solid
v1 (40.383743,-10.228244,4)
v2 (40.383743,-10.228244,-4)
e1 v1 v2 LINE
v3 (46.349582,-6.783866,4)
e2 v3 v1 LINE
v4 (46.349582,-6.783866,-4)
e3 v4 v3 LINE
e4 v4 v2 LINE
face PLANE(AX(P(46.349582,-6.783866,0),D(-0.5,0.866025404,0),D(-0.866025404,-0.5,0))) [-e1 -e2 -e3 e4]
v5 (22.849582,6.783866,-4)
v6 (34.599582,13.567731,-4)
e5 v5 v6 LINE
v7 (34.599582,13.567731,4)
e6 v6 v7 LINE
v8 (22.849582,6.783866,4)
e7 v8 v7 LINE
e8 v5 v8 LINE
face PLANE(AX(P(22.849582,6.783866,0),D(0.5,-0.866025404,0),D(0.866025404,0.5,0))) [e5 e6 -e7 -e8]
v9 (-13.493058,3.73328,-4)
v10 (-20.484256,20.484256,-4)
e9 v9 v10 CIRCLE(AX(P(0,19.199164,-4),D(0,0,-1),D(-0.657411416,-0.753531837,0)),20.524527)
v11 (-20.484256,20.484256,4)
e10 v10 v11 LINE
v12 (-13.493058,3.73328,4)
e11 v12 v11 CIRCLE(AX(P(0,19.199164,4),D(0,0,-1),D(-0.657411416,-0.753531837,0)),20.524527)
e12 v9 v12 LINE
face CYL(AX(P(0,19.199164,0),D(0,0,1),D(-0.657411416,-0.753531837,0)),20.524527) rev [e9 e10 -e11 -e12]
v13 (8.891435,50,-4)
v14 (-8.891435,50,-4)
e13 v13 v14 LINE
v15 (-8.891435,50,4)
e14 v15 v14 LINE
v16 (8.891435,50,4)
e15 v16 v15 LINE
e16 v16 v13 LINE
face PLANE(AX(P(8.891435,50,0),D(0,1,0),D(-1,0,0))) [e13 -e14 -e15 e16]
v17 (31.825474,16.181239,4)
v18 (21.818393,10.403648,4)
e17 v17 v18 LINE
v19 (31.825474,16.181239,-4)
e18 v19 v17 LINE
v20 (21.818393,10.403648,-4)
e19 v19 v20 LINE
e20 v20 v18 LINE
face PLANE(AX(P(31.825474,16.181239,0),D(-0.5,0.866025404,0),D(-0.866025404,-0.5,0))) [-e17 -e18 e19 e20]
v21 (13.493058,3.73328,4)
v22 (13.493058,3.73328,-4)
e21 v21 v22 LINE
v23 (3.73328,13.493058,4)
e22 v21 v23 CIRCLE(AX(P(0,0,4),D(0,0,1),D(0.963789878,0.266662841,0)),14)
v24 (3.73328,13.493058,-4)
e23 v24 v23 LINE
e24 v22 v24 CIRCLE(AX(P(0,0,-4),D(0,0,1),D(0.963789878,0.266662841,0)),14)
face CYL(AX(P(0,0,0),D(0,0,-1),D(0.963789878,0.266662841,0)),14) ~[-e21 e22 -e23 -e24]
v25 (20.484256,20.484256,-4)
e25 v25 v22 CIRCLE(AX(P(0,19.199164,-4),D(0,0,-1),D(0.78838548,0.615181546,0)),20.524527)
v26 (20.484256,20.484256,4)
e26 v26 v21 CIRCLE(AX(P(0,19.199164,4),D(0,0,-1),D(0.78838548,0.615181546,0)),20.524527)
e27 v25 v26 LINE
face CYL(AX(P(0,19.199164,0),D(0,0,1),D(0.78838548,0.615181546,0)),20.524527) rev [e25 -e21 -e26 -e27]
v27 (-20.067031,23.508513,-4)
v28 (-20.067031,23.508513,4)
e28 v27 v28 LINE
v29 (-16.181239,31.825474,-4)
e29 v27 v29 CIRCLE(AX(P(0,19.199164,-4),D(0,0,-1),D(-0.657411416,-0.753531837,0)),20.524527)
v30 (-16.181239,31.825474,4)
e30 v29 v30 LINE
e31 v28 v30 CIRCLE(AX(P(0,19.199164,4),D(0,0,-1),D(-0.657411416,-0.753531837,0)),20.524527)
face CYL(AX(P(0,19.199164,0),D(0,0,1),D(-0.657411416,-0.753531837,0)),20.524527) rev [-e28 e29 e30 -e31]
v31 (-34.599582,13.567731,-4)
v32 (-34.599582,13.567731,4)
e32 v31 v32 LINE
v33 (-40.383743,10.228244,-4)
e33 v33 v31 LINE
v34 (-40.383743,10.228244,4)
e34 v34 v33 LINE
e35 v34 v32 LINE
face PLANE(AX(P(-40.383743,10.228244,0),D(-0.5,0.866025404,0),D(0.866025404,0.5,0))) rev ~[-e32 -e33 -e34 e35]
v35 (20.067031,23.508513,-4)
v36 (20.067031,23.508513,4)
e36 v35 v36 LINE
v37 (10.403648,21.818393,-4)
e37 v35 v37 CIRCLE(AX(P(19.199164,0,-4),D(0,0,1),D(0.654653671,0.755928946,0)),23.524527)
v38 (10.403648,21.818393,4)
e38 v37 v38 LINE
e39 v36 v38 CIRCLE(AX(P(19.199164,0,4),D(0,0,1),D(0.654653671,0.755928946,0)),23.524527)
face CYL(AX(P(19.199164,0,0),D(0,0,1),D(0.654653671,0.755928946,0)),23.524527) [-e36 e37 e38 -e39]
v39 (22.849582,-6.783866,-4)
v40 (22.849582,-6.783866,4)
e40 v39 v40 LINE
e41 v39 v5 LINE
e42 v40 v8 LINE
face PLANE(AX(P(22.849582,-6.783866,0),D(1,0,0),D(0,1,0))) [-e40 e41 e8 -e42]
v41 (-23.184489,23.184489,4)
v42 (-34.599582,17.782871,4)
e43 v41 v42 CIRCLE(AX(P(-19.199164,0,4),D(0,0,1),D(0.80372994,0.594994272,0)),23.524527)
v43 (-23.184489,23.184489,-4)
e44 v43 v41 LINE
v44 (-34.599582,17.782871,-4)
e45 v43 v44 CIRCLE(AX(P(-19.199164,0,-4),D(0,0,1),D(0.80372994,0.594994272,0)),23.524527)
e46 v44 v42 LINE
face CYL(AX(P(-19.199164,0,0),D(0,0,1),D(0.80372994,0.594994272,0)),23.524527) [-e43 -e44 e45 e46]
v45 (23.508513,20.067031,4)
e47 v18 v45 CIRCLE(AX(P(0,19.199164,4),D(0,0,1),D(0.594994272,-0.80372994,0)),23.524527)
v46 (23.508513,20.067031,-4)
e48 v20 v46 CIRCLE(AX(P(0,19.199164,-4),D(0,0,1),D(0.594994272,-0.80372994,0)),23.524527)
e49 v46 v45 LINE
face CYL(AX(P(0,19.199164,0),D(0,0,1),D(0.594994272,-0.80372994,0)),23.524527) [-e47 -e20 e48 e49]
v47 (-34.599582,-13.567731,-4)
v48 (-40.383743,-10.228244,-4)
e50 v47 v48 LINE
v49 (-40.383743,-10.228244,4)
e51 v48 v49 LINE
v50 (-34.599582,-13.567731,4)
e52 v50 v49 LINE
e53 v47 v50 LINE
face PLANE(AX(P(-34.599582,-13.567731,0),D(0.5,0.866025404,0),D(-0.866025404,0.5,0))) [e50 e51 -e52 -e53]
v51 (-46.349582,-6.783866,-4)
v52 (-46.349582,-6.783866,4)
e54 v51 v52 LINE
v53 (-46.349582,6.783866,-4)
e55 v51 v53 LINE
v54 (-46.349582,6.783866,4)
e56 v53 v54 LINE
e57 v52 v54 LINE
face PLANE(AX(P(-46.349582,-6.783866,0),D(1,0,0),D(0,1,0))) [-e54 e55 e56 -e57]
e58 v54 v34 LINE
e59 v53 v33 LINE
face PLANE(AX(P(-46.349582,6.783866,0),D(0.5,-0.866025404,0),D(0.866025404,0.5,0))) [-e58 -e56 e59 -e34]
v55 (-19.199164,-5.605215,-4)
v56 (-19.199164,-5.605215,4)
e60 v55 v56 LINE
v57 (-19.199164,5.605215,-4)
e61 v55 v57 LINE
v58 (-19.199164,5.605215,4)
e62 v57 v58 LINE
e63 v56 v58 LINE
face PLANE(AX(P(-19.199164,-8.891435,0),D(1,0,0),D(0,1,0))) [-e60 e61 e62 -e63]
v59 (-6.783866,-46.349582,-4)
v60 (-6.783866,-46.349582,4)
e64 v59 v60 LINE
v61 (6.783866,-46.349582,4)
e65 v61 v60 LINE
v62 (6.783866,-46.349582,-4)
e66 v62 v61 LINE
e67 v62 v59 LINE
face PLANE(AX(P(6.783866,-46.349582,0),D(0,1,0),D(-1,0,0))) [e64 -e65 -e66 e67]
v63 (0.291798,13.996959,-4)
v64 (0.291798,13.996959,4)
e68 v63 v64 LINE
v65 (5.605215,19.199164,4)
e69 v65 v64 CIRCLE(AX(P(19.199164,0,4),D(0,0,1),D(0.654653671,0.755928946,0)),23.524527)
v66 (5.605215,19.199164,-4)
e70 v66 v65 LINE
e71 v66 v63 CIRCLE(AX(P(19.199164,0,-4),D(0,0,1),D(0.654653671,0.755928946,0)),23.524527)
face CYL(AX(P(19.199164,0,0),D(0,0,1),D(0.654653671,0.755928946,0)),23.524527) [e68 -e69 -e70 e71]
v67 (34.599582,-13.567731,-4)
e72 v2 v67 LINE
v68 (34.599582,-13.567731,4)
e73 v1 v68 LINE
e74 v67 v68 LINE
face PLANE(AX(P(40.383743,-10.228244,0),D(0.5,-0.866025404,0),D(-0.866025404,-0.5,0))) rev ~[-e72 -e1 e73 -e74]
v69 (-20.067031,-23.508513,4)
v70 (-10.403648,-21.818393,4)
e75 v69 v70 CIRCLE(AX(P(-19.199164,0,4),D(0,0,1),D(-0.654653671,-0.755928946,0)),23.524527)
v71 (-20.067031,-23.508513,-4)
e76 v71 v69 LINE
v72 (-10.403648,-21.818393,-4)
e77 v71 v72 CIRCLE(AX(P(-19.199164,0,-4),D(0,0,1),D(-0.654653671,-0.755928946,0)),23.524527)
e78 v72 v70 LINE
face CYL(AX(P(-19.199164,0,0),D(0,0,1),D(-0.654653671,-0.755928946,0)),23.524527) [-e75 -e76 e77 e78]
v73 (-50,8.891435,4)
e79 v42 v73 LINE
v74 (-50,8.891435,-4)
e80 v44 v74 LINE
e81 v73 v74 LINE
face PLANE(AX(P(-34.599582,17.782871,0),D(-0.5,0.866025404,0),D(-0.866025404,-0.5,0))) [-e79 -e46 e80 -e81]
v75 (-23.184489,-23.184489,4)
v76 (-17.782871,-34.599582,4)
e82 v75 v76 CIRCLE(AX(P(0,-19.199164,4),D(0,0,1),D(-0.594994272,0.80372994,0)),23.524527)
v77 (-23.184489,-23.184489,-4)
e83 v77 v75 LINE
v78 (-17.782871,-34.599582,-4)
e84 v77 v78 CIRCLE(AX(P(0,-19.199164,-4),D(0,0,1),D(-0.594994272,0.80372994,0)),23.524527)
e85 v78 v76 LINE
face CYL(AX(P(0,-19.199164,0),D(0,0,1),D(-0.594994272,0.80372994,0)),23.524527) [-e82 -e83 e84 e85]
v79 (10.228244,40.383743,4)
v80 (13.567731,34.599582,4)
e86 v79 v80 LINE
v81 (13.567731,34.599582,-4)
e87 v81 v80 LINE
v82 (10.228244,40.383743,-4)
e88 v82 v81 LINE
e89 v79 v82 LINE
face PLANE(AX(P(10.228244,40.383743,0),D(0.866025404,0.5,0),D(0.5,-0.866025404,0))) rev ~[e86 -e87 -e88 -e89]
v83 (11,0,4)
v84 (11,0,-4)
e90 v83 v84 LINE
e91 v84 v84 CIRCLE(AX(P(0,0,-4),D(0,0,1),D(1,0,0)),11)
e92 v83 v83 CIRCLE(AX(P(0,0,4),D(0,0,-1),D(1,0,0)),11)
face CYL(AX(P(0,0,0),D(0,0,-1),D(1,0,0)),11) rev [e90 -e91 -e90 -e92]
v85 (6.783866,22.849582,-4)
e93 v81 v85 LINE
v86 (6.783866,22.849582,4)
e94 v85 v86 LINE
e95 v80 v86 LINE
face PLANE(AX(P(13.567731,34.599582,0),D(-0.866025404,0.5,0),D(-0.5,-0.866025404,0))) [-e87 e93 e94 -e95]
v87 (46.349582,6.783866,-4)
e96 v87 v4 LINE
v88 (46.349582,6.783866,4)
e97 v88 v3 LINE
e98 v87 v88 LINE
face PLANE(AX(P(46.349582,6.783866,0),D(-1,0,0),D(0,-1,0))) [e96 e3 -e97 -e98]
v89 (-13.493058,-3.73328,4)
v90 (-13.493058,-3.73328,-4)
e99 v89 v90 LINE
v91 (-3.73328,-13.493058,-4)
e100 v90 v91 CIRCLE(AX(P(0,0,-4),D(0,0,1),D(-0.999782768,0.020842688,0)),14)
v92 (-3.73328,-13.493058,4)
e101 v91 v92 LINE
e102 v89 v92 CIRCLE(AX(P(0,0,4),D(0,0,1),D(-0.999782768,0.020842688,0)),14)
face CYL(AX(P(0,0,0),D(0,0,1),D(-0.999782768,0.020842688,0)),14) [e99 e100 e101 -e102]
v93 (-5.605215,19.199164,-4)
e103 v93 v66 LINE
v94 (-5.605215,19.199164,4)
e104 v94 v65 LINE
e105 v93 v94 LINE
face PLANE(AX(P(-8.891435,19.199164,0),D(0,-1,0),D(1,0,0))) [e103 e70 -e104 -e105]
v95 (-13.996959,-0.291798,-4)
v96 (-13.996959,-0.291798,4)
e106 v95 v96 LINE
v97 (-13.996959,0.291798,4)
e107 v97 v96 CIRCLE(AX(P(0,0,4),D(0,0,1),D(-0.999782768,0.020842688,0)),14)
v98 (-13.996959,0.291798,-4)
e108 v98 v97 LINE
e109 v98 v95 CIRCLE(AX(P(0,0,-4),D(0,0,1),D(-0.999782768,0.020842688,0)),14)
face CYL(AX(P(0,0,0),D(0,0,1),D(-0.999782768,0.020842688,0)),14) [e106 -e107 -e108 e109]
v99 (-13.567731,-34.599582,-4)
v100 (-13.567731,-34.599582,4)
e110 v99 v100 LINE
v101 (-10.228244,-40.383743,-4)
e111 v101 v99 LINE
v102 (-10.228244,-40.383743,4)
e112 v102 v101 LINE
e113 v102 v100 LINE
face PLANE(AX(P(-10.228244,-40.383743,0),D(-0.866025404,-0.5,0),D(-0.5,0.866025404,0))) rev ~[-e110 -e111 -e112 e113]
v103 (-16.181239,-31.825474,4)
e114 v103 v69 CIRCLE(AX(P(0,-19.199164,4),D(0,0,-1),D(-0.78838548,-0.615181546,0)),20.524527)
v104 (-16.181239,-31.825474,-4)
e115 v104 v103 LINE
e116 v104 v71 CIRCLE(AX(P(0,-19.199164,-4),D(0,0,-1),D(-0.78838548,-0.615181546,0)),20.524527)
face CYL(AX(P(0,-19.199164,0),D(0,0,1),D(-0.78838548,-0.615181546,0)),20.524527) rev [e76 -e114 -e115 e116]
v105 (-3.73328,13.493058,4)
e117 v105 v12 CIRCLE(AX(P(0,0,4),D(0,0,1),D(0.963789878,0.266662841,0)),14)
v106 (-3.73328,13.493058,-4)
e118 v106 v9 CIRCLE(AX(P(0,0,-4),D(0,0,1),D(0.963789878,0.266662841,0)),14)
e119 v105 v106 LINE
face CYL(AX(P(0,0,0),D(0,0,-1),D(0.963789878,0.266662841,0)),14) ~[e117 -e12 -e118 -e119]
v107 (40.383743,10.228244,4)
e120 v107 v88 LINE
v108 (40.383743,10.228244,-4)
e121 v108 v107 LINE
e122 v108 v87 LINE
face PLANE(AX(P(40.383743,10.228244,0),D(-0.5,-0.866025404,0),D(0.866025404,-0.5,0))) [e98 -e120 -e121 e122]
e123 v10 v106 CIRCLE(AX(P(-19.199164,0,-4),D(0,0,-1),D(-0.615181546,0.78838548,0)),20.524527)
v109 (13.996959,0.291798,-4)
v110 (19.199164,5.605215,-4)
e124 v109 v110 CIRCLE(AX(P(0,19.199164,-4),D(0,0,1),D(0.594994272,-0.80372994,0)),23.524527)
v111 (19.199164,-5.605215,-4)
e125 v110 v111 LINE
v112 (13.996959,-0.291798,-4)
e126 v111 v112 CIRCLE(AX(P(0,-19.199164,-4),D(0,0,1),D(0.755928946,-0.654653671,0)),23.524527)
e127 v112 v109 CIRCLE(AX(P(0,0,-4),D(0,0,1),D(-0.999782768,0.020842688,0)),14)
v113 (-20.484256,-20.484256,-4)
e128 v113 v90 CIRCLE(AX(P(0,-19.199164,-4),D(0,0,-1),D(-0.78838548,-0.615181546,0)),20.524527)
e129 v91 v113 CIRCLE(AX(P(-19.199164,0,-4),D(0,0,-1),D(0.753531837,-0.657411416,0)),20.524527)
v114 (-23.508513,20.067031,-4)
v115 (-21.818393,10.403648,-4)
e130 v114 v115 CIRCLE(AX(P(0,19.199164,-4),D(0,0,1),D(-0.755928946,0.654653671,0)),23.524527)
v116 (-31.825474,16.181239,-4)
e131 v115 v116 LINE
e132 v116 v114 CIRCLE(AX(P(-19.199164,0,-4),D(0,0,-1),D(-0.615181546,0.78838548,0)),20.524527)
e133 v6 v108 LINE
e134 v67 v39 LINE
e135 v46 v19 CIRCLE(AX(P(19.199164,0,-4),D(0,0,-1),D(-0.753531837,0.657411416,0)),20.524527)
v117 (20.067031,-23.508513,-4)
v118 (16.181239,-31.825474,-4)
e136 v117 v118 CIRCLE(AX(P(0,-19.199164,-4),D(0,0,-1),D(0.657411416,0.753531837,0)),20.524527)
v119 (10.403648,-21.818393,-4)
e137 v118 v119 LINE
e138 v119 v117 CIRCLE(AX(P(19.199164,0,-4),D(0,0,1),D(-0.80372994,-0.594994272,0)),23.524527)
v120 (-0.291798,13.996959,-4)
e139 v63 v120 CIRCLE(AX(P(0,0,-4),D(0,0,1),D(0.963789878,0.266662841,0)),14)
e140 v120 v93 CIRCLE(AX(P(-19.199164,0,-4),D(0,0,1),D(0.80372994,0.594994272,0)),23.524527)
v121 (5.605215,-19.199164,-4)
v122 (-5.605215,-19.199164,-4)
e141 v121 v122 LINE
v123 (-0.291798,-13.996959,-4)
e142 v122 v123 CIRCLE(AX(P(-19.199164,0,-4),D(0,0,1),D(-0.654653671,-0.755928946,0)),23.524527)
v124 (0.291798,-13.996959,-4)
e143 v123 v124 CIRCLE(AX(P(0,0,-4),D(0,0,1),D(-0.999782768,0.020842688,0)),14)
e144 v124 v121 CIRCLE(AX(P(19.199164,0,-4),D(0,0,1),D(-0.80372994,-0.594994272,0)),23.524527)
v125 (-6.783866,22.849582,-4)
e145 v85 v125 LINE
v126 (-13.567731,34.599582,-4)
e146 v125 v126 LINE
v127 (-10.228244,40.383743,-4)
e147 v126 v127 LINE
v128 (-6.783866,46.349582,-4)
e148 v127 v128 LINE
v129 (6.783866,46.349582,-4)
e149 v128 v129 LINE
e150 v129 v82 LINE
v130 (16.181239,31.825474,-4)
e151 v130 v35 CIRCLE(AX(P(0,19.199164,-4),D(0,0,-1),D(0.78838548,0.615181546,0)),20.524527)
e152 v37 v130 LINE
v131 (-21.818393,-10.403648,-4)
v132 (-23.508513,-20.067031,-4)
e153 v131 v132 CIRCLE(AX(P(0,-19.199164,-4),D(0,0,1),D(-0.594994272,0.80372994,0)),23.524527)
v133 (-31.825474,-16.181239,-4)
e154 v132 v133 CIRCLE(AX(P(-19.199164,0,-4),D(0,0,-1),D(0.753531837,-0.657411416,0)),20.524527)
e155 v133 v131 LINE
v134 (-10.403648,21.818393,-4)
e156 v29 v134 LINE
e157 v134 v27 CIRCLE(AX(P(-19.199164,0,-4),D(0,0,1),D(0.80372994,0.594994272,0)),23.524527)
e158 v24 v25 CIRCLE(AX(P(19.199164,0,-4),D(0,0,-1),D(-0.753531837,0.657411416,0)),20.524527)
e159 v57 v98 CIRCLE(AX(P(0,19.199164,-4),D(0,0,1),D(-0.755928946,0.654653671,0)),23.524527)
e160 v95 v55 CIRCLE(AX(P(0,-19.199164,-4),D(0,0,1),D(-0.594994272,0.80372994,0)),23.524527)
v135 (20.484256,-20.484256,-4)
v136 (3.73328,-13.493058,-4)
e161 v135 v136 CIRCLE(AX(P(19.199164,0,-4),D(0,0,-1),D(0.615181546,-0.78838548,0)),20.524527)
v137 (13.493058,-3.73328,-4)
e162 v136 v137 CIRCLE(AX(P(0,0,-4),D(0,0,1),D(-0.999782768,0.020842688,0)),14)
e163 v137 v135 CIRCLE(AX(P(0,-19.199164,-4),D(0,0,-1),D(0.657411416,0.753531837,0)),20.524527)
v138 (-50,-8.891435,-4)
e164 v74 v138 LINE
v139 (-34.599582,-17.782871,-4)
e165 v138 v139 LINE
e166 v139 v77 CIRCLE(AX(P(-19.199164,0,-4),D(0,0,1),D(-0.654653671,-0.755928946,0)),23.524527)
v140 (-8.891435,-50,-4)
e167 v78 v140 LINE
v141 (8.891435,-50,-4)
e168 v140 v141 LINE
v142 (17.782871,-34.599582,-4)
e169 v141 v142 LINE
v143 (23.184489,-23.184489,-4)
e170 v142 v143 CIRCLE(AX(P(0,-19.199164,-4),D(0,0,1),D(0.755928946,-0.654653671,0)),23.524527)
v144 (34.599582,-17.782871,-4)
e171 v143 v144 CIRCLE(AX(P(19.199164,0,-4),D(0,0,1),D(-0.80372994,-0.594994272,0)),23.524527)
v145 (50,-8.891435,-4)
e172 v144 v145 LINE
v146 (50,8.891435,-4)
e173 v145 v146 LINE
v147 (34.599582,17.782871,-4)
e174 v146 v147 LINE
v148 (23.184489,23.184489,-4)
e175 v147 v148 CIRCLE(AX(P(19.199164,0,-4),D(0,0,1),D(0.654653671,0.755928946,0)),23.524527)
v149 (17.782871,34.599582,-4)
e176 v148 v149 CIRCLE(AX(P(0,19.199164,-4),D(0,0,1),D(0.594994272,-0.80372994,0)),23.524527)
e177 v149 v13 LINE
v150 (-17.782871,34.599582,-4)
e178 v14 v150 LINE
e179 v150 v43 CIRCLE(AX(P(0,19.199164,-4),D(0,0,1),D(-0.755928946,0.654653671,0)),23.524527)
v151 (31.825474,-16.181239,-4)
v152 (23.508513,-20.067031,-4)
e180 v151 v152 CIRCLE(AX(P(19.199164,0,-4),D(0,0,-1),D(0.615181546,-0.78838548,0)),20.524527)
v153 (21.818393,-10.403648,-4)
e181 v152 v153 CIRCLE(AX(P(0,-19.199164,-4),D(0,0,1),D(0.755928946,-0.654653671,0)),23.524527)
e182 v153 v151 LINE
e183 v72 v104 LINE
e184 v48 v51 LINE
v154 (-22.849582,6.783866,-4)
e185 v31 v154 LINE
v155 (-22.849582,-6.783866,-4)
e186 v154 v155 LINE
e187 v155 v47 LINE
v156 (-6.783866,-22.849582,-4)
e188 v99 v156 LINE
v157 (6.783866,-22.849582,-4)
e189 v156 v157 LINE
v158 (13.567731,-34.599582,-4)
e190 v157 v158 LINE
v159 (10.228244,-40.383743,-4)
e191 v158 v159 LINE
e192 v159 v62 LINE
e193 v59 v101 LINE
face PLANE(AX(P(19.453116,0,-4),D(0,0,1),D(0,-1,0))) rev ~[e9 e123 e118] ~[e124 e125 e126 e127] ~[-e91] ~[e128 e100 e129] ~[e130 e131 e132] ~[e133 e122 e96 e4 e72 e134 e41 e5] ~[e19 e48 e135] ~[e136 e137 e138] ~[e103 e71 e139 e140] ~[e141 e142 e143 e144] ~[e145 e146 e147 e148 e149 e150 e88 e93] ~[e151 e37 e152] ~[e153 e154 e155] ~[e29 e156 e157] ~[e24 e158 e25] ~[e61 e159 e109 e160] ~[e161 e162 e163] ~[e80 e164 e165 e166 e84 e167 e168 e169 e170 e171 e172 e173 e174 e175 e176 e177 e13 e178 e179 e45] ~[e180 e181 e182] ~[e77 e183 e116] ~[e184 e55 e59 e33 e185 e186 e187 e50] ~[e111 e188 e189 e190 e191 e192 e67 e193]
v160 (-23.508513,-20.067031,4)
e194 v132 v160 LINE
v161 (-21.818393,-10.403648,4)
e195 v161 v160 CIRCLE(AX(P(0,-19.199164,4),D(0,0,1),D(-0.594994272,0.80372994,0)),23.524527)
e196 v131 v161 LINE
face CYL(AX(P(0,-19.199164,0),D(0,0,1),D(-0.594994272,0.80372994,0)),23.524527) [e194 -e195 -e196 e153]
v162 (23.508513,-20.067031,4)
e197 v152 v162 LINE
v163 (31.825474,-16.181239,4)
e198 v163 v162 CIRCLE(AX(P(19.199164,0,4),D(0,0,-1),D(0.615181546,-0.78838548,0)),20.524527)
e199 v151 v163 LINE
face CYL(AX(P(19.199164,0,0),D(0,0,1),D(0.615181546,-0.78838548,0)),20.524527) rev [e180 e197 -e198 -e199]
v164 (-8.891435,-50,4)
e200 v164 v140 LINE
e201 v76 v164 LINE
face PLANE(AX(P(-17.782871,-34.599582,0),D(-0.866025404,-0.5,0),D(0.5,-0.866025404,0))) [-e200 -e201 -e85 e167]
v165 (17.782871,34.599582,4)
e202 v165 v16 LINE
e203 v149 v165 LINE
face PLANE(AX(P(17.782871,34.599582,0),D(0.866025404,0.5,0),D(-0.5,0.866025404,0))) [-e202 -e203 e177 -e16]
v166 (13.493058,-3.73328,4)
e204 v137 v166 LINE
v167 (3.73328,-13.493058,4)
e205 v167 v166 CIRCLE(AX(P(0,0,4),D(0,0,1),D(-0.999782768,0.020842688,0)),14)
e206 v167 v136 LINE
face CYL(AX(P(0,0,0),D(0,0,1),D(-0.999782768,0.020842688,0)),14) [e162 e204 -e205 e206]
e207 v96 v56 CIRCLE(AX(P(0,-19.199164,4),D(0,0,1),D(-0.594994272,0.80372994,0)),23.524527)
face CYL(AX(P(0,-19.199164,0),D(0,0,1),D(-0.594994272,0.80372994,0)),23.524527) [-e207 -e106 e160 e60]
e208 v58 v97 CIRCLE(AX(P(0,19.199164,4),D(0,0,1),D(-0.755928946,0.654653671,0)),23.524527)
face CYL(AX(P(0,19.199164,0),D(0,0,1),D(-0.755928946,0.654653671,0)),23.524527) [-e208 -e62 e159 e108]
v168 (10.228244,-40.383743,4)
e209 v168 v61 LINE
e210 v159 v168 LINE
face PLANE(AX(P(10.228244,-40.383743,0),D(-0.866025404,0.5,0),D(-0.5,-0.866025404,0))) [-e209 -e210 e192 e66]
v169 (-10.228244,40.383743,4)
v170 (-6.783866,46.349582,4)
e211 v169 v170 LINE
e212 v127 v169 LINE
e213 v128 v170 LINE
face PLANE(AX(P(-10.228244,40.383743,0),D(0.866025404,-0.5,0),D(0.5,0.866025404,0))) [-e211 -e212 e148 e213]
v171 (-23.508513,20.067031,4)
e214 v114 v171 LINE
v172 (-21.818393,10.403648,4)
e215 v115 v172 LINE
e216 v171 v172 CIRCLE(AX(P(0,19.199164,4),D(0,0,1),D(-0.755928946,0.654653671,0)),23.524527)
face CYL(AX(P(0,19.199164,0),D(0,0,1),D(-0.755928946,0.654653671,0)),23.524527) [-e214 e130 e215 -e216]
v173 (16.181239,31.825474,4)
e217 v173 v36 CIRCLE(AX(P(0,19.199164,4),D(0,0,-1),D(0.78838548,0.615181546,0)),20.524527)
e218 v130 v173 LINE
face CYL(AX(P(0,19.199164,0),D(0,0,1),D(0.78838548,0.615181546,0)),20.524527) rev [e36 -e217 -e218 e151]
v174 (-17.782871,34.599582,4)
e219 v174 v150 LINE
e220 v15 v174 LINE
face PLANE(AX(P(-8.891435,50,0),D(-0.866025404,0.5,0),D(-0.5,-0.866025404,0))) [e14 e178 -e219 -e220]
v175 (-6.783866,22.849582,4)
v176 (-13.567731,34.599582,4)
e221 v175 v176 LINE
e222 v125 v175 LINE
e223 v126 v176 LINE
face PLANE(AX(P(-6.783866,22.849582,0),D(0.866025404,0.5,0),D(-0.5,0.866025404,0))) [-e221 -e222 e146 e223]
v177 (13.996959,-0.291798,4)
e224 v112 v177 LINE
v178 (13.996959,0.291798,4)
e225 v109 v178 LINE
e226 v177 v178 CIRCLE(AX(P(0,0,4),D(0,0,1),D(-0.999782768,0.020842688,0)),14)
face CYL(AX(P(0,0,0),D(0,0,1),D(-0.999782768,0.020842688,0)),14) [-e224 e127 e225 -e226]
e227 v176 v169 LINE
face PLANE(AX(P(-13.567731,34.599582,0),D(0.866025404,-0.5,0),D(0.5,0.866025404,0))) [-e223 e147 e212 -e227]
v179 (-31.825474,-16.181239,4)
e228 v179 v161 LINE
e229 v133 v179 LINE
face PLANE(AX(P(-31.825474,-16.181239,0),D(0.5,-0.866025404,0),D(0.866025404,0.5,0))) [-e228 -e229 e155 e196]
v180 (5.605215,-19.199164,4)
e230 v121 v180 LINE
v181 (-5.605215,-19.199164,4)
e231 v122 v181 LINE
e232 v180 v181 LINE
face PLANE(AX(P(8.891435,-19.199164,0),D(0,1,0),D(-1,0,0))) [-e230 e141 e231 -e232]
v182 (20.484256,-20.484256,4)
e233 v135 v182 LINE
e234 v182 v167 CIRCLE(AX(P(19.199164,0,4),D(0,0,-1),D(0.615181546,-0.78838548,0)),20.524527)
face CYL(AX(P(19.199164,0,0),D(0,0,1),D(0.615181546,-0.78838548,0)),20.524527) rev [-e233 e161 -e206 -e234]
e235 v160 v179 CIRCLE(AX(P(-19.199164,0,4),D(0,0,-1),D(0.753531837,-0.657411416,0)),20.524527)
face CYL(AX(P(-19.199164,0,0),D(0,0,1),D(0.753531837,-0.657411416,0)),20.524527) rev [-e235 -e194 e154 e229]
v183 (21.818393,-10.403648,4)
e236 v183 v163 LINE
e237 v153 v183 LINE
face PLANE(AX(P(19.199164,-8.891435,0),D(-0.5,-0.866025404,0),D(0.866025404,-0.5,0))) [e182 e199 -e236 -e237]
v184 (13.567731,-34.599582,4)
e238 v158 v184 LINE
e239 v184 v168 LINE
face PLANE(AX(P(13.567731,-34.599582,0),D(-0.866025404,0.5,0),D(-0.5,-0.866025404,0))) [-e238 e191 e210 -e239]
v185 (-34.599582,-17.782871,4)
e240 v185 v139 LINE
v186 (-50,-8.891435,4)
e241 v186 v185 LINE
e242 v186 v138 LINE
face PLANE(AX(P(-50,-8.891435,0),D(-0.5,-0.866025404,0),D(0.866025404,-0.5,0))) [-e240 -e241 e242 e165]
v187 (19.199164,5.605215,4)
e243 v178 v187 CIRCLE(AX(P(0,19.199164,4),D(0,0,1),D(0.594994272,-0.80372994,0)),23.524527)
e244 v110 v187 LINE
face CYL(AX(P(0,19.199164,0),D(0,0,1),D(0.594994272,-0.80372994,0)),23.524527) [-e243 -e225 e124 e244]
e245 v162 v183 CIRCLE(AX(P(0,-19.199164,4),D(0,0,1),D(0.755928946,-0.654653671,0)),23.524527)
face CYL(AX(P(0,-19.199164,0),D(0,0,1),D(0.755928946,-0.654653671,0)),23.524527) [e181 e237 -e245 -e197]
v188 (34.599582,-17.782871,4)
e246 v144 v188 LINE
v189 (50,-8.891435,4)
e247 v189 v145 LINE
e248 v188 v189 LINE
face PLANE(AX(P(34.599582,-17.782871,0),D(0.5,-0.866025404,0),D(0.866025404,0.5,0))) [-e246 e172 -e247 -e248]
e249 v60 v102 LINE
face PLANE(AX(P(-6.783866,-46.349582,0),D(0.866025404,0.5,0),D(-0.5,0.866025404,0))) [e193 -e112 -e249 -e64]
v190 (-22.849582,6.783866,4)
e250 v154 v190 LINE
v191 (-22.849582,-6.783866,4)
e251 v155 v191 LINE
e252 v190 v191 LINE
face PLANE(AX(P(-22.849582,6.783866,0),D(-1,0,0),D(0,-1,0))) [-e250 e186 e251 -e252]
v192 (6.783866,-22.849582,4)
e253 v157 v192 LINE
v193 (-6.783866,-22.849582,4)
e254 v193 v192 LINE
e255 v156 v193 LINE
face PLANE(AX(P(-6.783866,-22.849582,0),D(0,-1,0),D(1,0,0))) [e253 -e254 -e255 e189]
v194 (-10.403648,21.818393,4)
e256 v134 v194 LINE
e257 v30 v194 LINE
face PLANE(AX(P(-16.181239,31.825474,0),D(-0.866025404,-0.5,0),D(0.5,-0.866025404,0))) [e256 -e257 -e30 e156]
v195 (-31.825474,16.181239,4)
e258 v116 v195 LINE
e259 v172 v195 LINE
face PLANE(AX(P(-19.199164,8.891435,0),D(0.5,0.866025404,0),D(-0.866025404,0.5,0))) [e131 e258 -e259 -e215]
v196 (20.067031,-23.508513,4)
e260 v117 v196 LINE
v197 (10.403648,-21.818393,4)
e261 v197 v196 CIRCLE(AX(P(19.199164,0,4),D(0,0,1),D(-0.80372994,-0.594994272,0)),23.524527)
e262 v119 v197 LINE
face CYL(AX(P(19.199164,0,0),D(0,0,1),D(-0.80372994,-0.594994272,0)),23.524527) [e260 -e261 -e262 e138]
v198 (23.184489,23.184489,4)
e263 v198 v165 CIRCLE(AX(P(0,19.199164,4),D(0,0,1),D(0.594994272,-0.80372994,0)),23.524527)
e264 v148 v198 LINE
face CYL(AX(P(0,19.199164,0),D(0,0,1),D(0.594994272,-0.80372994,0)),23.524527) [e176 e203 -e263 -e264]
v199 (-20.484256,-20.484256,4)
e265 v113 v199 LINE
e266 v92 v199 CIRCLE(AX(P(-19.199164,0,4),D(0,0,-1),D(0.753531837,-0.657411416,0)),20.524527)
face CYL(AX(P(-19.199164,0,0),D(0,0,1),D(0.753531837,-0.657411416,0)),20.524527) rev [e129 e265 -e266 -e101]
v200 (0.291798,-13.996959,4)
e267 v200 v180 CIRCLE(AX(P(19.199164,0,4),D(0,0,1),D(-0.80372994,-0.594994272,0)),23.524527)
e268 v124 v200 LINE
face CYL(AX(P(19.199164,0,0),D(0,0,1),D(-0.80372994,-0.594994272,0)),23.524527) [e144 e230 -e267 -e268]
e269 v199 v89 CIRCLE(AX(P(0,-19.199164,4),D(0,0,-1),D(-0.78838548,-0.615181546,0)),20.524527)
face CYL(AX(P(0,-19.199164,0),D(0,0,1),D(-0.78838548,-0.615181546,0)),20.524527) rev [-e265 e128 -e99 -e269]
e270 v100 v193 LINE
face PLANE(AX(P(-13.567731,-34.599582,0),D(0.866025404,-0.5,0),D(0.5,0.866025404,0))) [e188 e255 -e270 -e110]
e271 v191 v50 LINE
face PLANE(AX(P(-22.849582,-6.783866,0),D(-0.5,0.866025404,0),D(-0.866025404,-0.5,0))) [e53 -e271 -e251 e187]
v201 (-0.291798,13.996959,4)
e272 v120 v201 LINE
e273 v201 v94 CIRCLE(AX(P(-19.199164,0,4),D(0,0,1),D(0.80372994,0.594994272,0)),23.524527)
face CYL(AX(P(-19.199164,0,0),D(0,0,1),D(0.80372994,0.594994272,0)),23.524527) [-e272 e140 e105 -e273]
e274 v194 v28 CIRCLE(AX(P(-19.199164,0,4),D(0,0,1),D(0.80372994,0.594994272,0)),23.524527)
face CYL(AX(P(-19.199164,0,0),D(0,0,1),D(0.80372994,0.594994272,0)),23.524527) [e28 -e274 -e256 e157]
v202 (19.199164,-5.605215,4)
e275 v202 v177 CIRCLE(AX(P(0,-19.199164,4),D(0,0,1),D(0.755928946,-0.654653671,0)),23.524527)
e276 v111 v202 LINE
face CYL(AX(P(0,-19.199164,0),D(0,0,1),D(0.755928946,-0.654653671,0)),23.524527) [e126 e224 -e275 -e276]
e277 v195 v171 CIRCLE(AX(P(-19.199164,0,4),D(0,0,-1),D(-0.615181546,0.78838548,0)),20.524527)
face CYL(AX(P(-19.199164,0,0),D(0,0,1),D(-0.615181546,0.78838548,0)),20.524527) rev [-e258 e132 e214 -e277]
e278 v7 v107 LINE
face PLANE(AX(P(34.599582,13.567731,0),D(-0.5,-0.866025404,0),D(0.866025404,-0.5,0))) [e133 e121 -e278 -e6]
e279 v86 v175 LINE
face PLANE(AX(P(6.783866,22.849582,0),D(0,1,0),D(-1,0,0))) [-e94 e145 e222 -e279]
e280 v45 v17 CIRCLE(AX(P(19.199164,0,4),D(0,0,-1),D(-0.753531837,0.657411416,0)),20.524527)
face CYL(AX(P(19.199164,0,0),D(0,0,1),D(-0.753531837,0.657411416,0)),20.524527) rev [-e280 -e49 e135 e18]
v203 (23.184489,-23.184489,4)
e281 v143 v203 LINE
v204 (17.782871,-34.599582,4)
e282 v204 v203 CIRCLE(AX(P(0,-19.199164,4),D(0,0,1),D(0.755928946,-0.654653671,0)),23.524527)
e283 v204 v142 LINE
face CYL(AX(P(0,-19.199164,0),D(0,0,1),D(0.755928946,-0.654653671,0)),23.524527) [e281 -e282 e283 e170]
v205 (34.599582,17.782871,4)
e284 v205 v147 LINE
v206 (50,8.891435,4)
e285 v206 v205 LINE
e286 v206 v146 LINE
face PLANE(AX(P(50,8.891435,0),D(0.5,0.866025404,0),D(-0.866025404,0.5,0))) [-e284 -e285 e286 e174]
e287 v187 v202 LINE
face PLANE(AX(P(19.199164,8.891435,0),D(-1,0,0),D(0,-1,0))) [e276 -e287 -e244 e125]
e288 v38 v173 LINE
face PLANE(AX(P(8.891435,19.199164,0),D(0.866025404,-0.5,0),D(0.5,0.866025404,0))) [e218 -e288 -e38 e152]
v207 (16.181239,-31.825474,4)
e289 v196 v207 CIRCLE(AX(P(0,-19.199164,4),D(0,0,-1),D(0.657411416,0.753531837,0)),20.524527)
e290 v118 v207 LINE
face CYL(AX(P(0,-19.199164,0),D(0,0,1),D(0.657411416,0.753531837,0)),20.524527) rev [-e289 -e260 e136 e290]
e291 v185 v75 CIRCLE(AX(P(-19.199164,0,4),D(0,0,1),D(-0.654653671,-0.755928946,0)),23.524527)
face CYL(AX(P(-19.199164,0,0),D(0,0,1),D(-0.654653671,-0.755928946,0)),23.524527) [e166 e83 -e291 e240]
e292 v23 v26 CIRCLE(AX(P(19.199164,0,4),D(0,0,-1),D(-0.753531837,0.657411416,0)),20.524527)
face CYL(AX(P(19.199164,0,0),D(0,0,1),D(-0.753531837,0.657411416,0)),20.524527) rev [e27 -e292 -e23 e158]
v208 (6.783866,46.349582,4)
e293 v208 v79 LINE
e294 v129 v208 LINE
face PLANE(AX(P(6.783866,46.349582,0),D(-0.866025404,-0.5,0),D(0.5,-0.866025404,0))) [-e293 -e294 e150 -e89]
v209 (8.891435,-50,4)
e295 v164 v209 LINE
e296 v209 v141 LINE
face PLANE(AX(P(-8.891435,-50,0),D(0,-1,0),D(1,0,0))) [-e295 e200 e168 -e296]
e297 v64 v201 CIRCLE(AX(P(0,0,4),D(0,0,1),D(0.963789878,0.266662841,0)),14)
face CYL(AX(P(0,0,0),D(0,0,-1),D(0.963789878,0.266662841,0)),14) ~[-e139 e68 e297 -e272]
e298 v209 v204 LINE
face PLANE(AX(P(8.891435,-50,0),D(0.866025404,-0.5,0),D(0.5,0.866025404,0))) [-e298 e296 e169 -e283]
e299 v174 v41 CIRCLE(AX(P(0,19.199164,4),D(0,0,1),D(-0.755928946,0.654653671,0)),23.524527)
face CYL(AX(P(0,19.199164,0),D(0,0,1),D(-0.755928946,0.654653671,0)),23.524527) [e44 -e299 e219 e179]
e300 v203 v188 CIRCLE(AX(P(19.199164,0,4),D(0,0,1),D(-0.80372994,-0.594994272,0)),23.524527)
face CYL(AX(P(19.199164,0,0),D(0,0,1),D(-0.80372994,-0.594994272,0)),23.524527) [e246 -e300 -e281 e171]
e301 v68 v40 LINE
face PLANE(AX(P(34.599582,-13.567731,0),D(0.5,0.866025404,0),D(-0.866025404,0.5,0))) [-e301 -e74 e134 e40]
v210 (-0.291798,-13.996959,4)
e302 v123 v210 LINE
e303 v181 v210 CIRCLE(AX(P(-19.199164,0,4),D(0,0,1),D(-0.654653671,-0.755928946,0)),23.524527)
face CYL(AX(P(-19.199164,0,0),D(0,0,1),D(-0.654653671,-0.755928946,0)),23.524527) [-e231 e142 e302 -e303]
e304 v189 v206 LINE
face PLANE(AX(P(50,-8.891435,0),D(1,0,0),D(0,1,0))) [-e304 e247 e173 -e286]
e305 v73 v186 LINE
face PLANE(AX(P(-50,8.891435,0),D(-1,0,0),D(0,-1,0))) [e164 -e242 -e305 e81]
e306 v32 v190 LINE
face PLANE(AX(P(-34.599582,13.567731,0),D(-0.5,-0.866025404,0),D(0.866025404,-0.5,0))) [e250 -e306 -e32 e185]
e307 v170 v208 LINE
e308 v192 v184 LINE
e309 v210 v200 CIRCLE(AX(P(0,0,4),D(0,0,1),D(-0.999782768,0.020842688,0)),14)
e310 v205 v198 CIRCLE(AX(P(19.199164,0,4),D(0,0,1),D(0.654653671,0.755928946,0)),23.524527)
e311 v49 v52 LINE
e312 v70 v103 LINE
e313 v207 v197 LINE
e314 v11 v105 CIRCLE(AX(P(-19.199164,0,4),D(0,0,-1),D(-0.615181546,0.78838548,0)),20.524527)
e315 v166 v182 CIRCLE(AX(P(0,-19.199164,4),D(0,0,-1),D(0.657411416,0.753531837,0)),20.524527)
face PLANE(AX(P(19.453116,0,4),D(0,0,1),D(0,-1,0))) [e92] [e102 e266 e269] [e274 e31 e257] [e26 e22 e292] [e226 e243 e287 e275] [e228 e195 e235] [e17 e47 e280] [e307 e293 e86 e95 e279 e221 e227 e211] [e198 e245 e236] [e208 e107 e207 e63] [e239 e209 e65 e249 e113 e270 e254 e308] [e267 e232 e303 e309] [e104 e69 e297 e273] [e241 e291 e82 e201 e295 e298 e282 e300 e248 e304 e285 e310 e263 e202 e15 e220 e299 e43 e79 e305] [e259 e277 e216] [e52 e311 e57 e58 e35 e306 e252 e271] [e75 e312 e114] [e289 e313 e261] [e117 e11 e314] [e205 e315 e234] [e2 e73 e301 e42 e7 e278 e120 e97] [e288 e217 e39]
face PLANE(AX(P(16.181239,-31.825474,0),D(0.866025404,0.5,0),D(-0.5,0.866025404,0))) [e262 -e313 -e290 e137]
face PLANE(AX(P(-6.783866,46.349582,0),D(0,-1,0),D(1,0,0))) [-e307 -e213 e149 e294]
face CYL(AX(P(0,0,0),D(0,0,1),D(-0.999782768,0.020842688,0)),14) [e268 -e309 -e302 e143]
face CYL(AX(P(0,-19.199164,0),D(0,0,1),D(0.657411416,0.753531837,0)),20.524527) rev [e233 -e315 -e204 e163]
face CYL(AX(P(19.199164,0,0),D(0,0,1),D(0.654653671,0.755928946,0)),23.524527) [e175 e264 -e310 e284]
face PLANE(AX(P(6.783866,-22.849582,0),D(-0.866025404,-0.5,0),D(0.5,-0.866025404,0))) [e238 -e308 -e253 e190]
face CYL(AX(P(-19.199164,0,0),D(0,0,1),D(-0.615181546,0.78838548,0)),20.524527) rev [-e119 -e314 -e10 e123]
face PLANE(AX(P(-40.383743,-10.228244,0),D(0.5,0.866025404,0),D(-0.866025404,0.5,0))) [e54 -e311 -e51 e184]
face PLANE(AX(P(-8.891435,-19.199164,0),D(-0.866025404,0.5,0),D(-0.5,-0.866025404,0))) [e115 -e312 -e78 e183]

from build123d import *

# Parameters (mm, degrees)
F0_R     = 11
F1_DEPTH = 4
F2_COUNT = 4


with BuildPart() as f1:
    # F0 (on Top) → F1 (new body, symmetric)
    with BuildSketch(Plane.XY):
        with BuildLine():
            ThreePointArc((-17.7828708233, 34.5995821148), (-23.3825877712, 16.6188629138), (-13.9969587461, 0.291797633))
            ThreePointArc((-13.9969587461, 0.291797633), (0, -14), (13.9969587461, 0.291797633))
            ThreePointArc((13.9969587461, 0.291797633), (23.3825877712, 16.6188629138), (17.7828708233, 34.5995821148))
            Line((17.7828708233, 34.5995821148), (8.8914354117, 50))
            Line((8.8914354117, 50), (-8.8914354117, 50))
            Line((-8.8914354117, 50), (-17.7828708233, 34.5995821148))
        make_face()
        Circle(F0_R, mode=Mode.SUBTRACT)
        with BuildLine():
            Line((8.8914354117, 19.1991642296), (16.1812389964, 31.8254744156))
            ThreePointArc((16.1812389964, 31.8254744156), (20.4311974682, 17.2440748743), (13.4930582959, 3.7332797675))
            ThreePointArc((13.4930582959, 3.7332797675), (0, 14), (-13.4930582959, 3.7332797675))
            ThreePointArc((-13.4930582959, 3.7332797675), (-20.4311974682, 17.2440748743), (-16.1812389964, 31.8254744156))
            Line((-16.1812389964, 31.8254744156), (-8.8914354117, 19.1991642296))
            Line((-8.8914354117, 19.1991642296), (8.8914354117, 19.1991642296))
        make_face(mode=Mode.SUBTRACT)
        Polygon((10.2282444271, 40.3837430948), (13.567731326, 34.5995821148), (6.783865663, 22.8495821148), (-6.783865663, 22.8495821148), (-13.567731326, 34.5995821148), (-10.2282444271, 40.3837430948), (-6.783865663, 46.3495821148), (6.783865663, 46.3495821148), align=None, mode=Mode.SUBTRACT)
    extrude(amount=F1_DEPTH, both=True)

    # F2: F1 ×4 about axis
    f2_axis = Axis((0, 0, 4), (0, 0, 1))


with BuildPart() as f1_1:
    add(f1.part)
    for i in range(1, F2_COUNT):
        add(f1.part.rotate(f2_axis, i * 360 / F2_COUNT))


solid = f1_1.part
